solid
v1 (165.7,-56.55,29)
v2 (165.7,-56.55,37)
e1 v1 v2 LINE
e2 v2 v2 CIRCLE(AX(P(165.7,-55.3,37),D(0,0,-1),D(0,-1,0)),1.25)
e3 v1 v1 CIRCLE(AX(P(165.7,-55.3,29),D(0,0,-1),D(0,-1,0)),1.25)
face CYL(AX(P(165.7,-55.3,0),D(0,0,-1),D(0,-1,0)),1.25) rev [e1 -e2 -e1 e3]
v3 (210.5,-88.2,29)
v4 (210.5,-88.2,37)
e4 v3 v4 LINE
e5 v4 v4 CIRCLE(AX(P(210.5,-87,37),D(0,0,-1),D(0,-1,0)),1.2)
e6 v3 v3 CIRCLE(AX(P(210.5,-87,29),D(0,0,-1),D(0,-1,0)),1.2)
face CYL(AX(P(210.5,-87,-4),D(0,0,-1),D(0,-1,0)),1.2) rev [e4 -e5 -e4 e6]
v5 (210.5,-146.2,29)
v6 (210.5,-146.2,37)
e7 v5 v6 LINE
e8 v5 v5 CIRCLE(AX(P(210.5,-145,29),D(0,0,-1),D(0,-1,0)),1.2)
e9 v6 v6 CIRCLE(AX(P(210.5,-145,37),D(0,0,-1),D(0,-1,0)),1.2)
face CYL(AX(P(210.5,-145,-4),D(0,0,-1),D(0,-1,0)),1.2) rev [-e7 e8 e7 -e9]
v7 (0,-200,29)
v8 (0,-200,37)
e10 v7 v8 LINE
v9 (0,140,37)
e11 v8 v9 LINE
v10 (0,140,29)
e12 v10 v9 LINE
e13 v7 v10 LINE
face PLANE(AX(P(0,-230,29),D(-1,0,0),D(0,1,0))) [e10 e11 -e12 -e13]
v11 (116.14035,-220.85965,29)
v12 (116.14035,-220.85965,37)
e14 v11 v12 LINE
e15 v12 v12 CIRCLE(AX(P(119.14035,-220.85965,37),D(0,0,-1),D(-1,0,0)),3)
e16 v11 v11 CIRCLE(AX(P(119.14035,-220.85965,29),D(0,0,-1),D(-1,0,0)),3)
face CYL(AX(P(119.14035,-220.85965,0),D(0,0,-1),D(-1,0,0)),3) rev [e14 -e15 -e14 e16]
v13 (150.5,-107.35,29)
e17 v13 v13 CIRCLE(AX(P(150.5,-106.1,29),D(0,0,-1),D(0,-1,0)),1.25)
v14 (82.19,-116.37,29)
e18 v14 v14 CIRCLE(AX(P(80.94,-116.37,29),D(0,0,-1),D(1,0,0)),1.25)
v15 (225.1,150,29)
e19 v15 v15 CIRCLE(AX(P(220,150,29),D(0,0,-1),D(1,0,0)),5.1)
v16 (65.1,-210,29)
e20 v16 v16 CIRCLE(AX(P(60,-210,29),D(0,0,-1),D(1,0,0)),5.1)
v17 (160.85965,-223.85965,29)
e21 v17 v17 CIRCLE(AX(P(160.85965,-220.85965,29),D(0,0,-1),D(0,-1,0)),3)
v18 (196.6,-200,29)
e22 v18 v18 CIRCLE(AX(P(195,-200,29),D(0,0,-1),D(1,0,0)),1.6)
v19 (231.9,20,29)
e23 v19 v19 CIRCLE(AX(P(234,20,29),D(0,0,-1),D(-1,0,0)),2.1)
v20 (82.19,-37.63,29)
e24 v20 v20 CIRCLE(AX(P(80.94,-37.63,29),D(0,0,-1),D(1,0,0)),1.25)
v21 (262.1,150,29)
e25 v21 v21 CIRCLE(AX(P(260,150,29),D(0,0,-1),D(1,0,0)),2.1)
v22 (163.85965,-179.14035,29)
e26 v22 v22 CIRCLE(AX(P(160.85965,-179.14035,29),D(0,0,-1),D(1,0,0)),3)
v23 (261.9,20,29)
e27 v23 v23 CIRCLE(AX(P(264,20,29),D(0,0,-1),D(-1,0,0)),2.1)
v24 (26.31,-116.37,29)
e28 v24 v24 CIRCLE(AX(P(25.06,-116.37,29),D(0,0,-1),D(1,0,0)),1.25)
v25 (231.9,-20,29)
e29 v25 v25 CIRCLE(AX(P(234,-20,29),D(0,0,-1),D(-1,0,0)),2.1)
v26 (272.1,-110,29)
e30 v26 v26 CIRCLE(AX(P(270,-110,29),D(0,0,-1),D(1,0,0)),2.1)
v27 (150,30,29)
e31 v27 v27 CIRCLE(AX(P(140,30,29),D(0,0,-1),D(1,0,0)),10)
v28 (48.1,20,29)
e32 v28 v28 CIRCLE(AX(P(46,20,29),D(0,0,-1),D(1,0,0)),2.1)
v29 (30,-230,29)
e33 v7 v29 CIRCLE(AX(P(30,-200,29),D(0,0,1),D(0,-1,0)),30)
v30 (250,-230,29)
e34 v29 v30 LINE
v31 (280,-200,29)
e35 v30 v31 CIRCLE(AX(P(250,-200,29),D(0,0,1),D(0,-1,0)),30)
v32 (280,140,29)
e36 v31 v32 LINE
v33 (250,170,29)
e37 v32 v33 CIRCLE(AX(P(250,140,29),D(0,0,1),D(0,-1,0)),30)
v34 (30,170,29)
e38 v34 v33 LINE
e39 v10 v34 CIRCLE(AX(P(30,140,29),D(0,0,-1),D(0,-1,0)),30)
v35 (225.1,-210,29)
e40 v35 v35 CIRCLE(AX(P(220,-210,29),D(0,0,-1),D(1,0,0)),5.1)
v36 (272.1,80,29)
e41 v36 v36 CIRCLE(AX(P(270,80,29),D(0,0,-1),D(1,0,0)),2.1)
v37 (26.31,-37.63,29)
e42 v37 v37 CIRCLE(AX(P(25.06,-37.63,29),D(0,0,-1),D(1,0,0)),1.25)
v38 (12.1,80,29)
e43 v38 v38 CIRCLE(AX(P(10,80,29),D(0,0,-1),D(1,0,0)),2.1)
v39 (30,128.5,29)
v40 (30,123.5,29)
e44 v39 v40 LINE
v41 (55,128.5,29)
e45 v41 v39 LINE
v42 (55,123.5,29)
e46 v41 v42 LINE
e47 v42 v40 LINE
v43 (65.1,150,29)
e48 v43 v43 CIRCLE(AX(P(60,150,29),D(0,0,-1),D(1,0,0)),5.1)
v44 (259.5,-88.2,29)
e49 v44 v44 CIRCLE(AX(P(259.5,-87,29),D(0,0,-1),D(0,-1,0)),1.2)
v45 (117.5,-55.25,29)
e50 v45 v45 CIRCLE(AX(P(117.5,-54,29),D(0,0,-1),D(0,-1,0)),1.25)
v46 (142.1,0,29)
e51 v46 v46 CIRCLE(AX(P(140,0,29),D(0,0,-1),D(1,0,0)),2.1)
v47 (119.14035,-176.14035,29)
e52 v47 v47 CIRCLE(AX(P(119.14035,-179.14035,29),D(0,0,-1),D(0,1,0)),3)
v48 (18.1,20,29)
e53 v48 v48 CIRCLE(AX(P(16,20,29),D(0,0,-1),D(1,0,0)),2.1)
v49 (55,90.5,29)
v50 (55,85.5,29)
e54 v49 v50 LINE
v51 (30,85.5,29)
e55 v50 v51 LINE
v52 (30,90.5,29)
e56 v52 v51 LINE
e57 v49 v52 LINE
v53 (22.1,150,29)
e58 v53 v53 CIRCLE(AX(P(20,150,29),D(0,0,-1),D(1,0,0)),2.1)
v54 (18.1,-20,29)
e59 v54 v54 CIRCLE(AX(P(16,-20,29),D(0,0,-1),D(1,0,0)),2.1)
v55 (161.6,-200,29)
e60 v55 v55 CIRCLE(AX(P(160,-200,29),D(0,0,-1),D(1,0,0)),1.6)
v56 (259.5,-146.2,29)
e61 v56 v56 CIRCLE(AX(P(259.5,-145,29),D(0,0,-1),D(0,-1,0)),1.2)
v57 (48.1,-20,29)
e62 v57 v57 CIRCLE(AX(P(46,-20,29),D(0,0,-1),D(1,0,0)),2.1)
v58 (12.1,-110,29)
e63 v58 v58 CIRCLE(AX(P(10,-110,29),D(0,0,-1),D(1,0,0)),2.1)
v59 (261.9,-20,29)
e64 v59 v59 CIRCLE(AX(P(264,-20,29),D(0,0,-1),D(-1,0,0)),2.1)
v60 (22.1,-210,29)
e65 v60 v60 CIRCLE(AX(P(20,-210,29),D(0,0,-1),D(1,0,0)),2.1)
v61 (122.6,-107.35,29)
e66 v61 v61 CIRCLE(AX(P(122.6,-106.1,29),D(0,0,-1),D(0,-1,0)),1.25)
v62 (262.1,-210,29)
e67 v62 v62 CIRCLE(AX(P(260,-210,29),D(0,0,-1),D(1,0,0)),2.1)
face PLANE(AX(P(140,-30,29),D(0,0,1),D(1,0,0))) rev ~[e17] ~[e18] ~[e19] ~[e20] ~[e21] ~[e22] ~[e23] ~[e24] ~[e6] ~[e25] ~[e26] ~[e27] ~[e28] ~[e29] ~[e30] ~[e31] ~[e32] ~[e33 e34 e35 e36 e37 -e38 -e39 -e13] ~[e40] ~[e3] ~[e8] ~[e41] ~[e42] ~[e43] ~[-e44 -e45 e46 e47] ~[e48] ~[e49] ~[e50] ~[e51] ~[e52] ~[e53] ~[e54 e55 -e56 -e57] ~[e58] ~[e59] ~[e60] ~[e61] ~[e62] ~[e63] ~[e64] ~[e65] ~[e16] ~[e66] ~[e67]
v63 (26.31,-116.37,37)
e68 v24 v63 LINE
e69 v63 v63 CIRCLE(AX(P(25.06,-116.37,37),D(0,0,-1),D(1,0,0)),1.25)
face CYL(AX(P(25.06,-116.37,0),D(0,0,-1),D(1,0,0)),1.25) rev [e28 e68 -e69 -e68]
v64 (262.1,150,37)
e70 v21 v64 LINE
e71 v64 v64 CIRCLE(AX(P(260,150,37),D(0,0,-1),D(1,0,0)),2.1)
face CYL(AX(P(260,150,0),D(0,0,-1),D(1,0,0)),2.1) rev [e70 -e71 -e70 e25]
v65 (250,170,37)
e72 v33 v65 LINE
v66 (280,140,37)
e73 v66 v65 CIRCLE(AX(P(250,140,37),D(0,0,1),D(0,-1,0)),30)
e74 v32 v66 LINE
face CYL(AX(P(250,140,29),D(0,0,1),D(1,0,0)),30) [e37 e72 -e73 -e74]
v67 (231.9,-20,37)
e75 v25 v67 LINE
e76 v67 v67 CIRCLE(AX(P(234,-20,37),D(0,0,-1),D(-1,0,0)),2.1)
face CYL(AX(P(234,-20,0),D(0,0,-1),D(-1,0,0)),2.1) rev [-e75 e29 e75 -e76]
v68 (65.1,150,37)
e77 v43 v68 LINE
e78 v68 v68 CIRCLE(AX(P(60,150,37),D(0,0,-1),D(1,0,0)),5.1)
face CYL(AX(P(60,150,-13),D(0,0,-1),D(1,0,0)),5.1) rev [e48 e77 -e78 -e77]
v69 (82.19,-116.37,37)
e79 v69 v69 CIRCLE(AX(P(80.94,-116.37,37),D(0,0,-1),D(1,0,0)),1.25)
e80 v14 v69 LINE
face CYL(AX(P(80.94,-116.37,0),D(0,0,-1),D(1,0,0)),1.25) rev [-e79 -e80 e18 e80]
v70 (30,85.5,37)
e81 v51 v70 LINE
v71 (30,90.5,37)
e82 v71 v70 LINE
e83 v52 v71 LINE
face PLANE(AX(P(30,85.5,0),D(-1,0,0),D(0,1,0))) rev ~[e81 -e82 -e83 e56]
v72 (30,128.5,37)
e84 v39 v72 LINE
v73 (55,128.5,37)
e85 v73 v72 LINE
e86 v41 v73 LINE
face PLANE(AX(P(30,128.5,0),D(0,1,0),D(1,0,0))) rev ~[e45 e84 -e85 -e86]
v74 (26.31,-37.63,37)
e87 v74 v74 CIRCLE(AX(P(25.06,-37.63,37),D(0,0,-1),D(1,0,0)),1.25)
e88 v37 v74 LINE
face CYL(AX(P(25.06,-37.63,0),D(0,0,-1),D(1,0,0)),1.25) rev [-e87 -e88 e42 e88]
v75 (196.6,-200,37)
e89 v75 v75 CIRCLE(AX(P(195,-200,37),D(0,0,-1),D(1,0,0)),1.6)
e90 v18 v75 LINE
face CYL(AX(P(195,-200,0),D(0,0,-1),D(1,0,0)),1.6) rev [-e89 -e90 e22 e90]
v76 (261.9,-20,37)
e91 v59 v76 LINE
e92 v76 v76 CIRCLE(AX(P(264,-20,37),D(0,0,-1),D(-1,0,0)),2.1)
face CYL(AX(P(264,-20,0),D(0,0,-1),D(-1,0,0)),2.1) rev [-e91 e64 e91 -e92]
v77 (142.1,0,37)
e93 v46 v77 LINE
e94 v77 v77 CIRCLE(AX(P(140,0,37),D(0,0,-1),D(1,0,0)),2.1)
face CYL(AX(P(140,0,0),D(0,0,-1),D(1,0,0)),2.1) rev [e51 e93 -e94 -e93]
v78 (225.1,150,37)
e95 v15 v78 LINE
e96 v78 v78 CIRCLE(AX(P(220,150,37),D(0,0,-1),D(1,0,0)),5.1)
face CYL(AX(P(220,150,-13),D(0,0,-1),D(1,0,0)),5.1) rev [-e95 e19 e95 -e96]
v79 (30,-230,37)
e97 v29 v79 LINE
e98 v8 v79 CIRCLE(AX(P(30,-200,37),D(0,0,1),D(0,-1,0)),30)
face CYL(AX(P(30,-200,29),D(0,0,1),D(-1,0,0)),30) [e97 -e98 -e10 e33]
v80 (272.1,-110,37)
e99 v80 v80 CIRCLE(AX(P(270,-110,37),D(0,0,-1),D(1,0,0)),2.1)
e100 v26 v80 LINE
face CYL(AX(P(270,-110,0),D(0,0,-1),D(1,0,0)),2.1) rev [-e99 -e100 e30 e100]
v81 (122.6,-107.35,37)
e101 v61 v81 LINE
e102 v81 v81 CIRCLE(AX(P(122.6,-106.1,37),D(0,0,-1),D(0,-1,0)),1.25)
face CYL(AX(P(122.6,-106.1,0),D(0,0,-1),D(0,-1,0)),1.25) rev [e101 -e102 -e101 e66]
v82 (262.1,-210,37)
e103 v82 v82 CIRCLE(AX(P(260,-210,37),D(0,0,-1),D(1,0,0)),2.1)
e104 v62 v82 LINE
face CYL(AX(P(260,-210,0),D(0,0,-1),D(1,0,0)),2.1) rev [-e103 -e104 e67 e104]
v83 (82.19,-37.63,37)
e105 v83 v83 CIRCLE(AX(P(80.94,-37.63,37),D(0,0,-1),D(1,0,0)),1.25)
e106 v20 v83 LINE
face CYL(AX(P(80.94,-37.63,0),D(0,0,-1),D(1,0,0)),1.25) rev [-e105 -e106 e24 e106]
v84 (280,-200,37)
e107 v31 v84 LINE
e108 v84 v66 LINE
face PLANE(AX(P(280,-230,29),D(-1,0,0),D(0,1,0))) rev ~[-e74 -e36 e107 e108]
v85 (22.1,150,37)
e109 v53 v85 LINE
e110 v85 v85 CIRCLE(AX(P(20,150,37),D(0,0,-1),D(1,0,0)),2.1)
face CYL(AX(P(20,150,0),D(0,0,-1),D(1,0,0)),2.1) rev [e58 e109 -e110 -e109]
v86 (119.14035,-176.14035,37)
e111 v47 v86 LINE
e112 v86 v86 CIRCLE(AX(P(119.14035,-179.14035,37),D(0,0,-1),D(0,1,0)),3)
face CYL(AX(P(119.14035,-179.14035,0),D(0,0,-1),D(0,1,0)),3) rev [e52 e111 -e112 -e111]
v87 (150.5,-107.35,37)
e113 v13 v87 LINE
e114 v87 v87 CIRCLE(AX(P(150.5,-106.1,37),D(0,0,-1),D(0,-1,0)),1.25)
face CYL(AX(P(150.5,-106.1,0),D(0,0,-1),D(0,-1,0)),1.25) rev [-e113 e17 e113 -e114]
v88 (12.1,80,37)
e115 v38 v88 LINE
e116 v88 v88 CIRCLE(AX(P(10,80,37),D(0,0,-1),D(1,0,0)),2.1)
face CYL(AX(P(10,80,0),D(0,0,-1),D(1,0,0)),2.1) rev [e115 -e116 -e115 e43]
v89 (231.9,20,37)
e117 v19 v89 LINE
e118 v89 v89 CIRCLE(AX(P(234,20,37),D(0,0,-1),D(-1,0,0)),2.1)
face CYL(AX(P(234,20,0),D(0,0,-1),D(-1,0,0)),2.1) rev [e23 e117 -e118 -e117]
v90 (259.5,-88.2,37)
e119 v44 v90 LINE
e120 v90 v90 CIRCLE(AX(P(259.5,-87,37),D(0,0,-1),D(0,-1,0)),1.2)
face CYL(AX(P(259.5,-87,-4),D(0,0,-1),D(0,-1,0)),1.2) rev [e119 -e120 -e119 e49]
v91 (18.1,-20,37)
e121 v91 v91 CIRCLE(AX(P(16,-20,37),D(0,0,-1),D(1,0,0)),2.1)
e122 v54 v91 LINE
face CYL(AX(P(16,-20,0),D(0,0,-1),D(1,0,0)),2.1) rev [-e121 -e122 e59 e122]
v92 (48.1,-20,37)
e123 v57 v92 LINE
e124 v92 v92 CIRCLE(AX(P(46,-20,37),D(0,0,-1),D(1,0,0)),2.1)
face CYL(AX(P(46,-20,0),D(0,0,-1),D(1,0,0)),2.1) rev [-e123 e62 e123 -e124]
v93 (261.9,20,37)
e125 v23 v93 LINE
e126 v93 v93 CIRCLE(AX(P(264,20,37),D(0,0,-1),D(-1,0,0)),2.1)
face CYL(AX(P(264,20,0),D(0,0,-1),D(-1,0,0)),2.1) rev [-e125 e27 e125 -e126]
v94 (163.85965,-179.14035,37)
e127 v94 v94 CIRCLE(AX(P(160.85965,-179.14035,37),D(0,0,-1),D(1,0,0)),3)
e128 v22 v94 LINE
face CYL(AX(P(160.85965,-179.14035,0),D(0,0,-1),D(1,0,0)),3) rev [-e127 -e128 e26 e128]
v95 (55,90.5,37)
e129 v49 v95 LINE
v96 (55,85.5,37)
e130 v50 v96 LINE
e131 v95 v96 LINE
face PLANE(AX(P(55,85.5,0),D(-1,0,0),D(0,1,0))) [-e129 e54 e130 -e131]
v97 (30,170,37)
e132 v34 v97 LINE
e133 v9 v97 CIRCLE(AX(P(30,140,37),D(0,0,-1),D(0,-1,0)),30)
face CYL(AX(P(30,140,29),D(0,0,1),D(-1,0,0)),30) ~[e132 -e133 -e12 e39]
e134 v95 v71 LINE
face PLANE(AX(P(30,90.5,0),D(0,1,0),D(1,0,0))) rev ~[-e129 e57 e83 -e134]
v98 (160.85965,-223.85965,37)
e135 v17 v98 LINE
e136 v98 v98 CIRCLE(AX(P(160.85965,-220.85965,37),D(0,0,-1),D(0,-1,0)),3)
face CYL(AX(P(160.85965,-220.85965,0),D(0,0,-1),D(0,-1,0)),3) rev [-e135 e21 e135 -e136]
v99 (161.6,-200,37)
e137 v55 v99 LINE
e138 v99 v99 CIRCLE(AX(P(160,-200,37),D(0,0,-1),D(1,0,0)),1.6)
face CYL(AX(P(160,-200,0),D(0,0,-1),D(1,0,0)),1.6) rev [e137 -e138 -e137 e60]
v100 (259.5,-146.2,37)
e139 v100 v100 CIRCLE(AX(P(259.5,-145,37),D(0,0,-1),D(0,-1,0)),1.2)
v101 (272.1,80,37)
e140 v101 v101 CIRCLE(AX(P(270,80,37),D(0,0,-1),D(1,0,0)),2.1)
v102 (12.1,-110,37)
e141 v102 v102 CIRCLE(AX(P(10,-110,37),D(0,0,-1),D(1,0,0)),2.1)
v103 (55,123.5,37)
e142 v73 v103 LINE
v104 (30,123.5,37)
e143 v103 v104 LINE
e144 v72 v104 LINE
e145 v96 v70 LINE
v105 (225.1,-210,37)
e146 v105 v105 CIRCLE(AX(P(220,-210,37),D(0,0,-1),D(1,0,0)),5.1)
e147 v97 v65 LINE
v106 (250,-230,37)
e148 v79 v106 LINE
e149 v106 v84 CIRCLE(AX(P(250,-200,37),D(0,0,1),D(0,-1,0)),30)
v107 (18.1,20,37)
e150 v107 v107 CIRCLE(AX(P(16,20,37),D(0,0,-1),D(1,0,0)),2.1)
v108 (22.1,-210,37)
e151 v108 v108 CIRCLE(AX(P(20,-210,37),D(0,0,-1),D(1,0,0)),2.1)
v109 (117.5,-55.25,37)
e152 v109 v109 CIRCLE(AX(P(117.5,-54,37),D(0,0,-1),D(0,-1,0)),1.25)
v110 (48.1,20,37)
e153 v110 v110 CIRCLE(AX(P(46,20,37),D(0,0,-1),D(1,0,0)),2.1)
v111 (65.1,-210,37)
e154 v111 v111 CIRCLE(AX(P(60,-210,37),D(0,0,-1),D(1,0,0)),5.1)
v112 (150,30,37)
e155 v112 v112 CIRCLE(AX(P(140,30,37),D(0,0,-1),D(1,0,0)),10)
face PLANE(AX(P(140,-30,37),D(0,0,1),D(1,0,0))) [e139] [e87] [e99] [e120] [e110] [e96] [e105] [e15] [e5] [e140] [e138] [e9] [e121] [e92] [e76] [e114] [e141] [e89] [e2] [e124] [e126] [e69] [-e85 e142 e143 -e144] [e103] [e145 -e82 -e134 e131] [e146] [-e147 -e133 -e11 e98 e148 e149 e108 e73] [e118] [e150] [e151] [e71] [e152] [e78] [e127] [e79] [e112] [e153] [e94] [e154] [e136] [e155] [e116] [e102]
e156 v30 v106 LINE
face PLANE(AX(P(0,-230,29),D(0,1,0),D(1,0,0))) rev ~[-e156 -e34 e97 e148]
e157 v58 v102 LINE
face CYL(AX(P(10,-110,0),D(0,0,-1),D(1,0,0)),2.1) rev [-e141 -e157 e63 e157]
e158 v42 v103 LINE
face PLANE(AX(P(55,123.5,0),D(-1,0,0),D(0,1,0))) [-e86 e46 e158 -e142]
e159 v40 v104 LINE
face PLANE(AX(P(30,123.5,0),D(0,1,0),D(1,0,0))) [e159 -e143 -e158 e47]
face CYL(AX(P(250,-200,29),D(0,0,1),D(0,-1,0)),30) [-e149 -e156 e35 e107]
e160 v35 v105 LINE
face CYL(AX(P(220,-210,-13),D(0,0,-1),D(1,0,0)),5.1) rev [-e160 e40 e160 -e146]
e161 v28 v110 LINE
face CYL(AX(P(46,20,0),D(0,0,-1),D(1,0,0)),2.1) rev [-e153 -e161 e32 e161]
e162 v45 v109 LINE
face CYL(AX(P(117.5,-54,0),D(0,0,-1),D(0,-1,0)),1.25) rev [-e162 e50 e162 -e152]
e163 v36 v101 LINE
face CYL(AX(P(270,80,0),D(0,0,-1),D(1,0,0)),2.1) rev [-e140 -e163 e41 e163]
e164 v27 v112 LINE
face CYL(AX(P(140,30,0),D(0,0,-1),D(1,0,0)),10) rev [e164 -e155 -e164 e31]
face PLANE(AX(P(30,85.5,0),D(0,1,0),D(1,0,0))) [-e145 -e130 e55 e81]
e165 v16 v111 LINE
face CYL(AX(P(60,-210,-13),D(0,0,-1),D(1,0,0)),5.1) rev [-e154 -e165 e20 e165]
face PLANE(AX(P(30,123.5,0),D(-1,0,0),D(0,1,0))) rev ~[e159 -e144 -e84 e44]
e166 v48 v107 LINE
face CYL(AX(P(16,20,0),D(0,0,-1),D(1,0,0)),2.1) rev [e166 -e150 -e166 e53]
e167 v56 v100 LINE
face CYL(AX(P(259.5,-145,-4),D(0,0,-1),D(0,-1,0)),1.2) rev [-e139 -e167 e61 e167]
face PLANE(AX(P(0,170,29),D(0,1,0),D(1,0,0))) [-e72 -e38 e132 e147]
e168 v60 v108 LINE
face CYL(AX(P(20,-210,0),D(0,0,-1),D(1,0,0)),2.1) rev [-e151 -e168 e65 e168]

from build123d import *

# Parameters (mm, degrees)
CYLINDER006_R            = 2.1
CYLINDER006_DEPTH        = 60
ARRAY004_X_COUNT         = 2
ARRAY004_X_PITCH         = 30
ARRAY004_Y_COUNT         = 2
ARRAY004_Y_PITCH         = 40
ARRAY005_COUNT           = 2
CYLINDER003_R            = 5.1
CYLINDER003_DEPTH        = 70
ARRAY002_X_COUNT         = 2
ARRAY002_X_PITCH         = 160
SKETCH001_R              = 1.25
PAD001_DEPTH             = 50
CLONE_PLACEMENT_ANGLE    = -90
CYLINDER008_R            = 1.25
CYLINDER008_DEPTH        = 60
ARRAY007_X_COUNT         = 2
ARRAY007_X_PITCH         = 55.88
ARRAY007_Y_COUNT         = 2
ARRAY007_Y_PITCH         = 78.74
SKETCH002_R              = 1.2
PAD003_DEPTH             = 50
CLONE001_PLACEMENT_ANGLE = -90
BOX013_W                 = 25
BOX013_H                 = 5
BOX013_DEPTH             = 50
ARRAY035_Y_COUNT         = 2
ARRAY035_Y_PITCH         = 38
CYLINDER034_R            = 5.1
CYLINDER034_DEPTH        = 70
ARRAY033_X_COUNT         = 2
ARRAY033_X_PITCH         = 160
CYLINDER035_R            = 2.1
CYLINDER035_DEPTH        = 120
ARRAY036_X_COUNT         = 2
ARRAY036_X_PITCH         = 240
ARRAY036_Y_COUNT         = 2
ARRAY036_Y_PITCH         = 360
CYLINDER036_R            = 2.1
CYLINDER036_DEPTH        = 110
ARRAY037_X_COUNT         = 2
ARRAY037_X_PITCH         = 260
ARRAY037_Y_COUNT         = 2
ARRAY037_Y_PITCH         = 190
CYLINDER037_R            = 2.1
CYLINDER037_DEPTH        = 120
CYLINDER005_R            = 3
CYLINDER005_DEPTH        = 50
ARRAY003_COUNT           = 4
CYLINDER039_R            = 1.6
CYLINDER039_DEPTH        = 50
ARRAY038_X_COUNT         = 2
ARRAY038_X_PITCH         = 35
CYLINDER007_R            = 10
CYLINDER007_DEPTH        = 50
BOX002_W                 = 280
BOX002_H                 = 400
BOX002_DEPTH             = 8
FILLET_R                 = 30


with BuildPart() as roues_mount:
    # Cylinder006 → Cylinder006 (new body)
    with BuildSketch(Plane(origin=(16, -20, 0), x_dir=(1, 0, 0), z_dir=(0, 0, 1))):
        Circle(CYLINDER006_R)
    extrude(amount=CYLINDER006_DEPTH)

    # Array004 X: roues_mount_ ×2


with BuildPart() as roues_mount_1:
    add(roues_mount.part)
    with Locations(*[(i * ARRAY004_X_PITCH, 0, 0) for i in range(1, ARRAY004_X_COUNT)]):
        add(roues_mount.part)

    # Array004 Y: roues_mount_ ×2


with BuildPart() as roues_mount_2:
    add(roues_mount_1.part)
    with Locations(*[(0, i * ARRAY004_Y_PITCH, 0) for i in range(1, ARRAY004_Y_COUNT)]):
        add(roues_mount_1.part)

    # Array005: roues_mount_ ×2 about axis
    array005_axis = Axis((140, 0, 0), (0, 0, 1))


with BuildPart() as roues_mount_3:
    add(roues_mount_2.part)
    for i in range(1, ARRAY005_COUNT):
        add(roues_mount_2.part.rotate(array005_axis, i * 360 / ARRAY005_COUNT))


with BuildPart() as roue_fole_mount_front:
    # Cylinder003 → Cylinder003 (new body)
    with BuildSketch(Plane(origin=(60, -210, -13), x_dir=(1, 0, 0), z_dir=(0, 0, 1))):
        Circle(CYLINDER003_R)
    extrude(amount=CYLINDER003_DEPTH)

    # Array002 X: roue_fole_mount_front_ ×2


with BuildPart() as roue_fole_mount_front_1:
    add(roue_fole_mount_front.part)
    with Locations(*[(i * ARRAY002_X_PITCH, 0, 0) for i in range(1, ARRAY002_X_COUNT)]):
        add(roue_fole_mount_front.part)


with BuildPart() as clone_of_arduino_uno_holes:
    # Sketch001 → Pad001 (new body)
    with BuildSketch(Plane.XY):
        with Locations((14, 2.5)):
            Circle(SKETCH001_R)
        with Locations((15.3, 50.7)):
            Circle(SKETCH001_R)
        with Locations((66.1, 35.5)):
            Circle(SKETCH001_R)
        with Locations((66.1, 7.6)):
            Circle(SKETCH001_R)
    extrude(amount=PAD001_DEPTH)


with BuildPart() as clone_of_arduino_uno_holes_1:
    # Clone placement: moved
    add(clone_of_arduino_uno_holes.part.moved(Location((115, -40, 0))).rotate(Axis((115, -40, 0), (0, 0, 1)), CLONE_PLACEMENT_ANGLE))


with BuildPart() as array007:
    # Cylinder008 → Cylinder008 (new body)
    with BuildSketch(Plane(origin=(25.06, -37.63, 0), x_dir=(1, 0, 0), z_dir=(0, 0, 1))):
        Circle(CYLINDER008_R)
    extrude(amount=CYLINDER008_DEPTH)

    # Array007 X: Array007 ×2


with BuildPart() as array007_1:
    add(array007.part)
    with Locations(*[(i * ARRAY007_X_PITCH, 0, 0) for i in range(1, ARRAY007_X_COUNT)]):
        add(array007.part)

    # Array007 Y: Array007 ×2


with BuildPart() as array007_2:
    add(array007_1.part)
    with Locations(*[(0, -i * ARRAY007_Y_PITCH, 0) for i in range(1, ARRAY007_Y_COUNT)]):
        add(array007_1.part)


with BuildPart() as mount_electronics:
    # Sketch002 → Pad003 (new body)
    with BuildSketch(Plane.XY.offset(-4)):
        with Locations((-39, 24.5)):
            Circle(SKETCH002_R)
        with Locations((19, 24.5)):
            Circle(SKETCH002_R)
        with Locations((-39, -24.5)):
            Circle(SKETCH002_R)
        with Locations((19, -24.5)):
            Circle(SKETCH002_R)
    extrude(amount=PAD003_DEPTH)


with BuildPart() as mount_electronics_1:
    # Clone001 placement: moved
    add(mount_electronics.part.moved(Location((235, -126, 0))).rotate(Axis((235, -126, 0), (0, 0, 1)), CLONE001_PLACEMENT_ANGLE))

    # Fusion002: union Clone of arduino_uno_holes_, Array007
    add(clone_of_arduino_uno_holes_1.part)
    add(array007_2.part)


with BuildPart() as array035:
    # Box013 → Box013 (new body)
    with BuildSketch(Plane(origin=(30, 123.5, 0), x_dir=(1, 0, 0), z_dir=(0, 0, 1))):
        with Locations((12.5, 2.5)):
            Rectangle(BOX013_W, BOX013_H)
    extrude(amount=BOX013_DEPTH)

    # Array035 Y: Array035 ×2


with BuildPart() as array035_1:
    add(array035.part)
    with Locations(*[(0, -i * ARRAY035_Y_PITCH, 0) for i in range(1, ARRAY035_Y_COUNT)]):
        add(array035.part)


with BuildPart() as roue_fole_mount_back:
    # Cylinder034 → Cylinder034 (new body)
    with BuildSketch(Plane(origin=(60, 150, -13), x_dir=(1, 0, 0), z_dir=(0, 0, 1))):
        Circle(CYLINDER034_R)
    extrude(amount=CYLINDER034_DEPTH)

    # Array033 X: roue_fole_mount_back ×2


with BuildPart() as roue_fole_mount_back_1:
    add(roue_fole_mount_back.part)
    with Locations(*[(i * ARRAY033_X_PITCH, 0, 0) for i in range(1, ARRAY033_X_COUNT)]):
        add(roue_fole_mount_back.part)


with BuildPart() as array036:
    # Cylinder035 → Cylinder035 (new body)
    with BuildSketch(Plane(origin=(20, -210, 0), x_dir=(1, 0, 0), z_dir=(0, 0, 1))):
        Circle(CYLINDER035_R)
    extrude(amount=CYLINDER035_DEPTH)

    # Array036 X: Array036 ×2


with BuildPart() as array036_1:
    add(array036.part)
    with Locations(*[(i * ARRAY036_X_PITCH, 0, 0) for i in range(1, ARRAY036_X_COUNT)]):
        add(array036.part)

    # Array036 Y: Array036 ×2


with BuildPart() as array036_2:
    add(array036_1.part)
    with Locations(*[(0, i * ARRAY036_Y_PITCH, 0) for i in range(1, ARRAY036_Y_COUNT)]):
        add(array036_1.part)


with BuildPart() as array037:
    # Cylinder036 → Cylinder036 (new body)
    with BuildSketch(Plane(origin=(10, -110, 0), x_dir=(1, 0, 0), z_dir=(0, 0, 1))):
        Circle(CYLINDER036_R)
    extrude(amount=CYLINDER036_DEPTH)

    # Array037 X: Array037 ×2


with BuildPart() as array037_1:
    add(array037.part)
    with Locations(*[(i * ARRAY037_X_PITCH, 0, 0) for i in range(1, ARRAY037_X_COUNT)]):
        add(array037.part)

    # Array037 Y: Array037 ×2


with BuildPart() as array037_2:
    add(array037_1.part)
    with Locations(*[(0, i * ARRAY037_Y_PITCH, 0) for i in range(1, ARRAY037_Y_COUNT)]):
        add(array037_1.part)


with BuildPart() as central_entretoise_m4:
    # Cylinder037 → Cylinder037 (new body)
    with BuildSketch(Plane(origin=(140, 0, 0), x_dir=(1, 0, 0), z_dir=(0, 0, 1))):
        Circle(CYLINDER037_R)
    extrude(amount=CYLINDER037_DEPTH)


with BuildPart() as array003:
    # Cylinder005 → Cylinder005 (new body)
    with BuildSketch(Plane(origin=(160.85965, -179.14035, 0), x_dir=(1, 0, 0), z_dir=(0, 0, 1))):
        Circle(CYLINDER005_R)
    extrude(amount=CYLINDER005_DEPTH)

    # Array003: Array003 ×4 about axis
    array003_axis = Axis((140, -200, 0), (0, 0, 1))


with BuildPart() as array003_1:
    add(array003.part)
    for i in range(1, ARRAY003_COUNT):
        add(array003.part.rotate(array003_axis, i * 360 / ARRAY003_COUNT))


with BuildPart() as mount_cam_pi:
    # Cylinder039 → Cylinder039 (new body)
    with BuildSketch(Plane(origin=(160, -200, 0), x_dir=(1, 0, 0), z_dir=(0, 0, 1))):
        Circle(CYLINDER039_R)
    extrude(amount=CYLINDER039_DEPTH)

    # Array038 X: mount_cam_pi_ ×2


with BuildPart() as mount_cam_pi_1:
    add(mount_cam_pi.part)
    with Locations(*[(i * ARRAY038_X_PITCH, 0, 0) for i in range(1, ARRAY038_X_COUNT)]):
        add(mount_cam_pi.part)


with BuildPart() as fusion001:
    # Cylinder007 → Cylinder007 (new body)
    with BuildSketch(Plane(origin=(140, 30, 0), x_dir=(1, 0, 0), z_dir=(0, 0, 1))):
        Circle(CYLINDER007_R)
    extrude(amount=CYLINDER007_DEPTH)

    # Fusion001: union roues_mount_, roue_fole_mount_front_, mount_electronics_, Array035, roue_fole_mount_back, Array036, Array037, central_entretoise_m4_, Array003, mount_cam_pi_
    add(roues_mount_3.part)
    add(roue_fole_mount_front_1.part)
    add(mount_electronics_1.part)
    add(array035_1.part)
    add(roue_fole_mount_back_1.part)
    add(array036_2.part)
    add(array037_2.part)
    add(central_entretoise_m4.part)
    add(array003_1.part)
    add(mount_cam_pi_1.part)


with BuildPart() as cut:
    # Box002 → Box002 (new body)
    with BuildSketch(Plane(origin=(0, -230, 29), x_dir=(1, 0, 0), z_dir=(0, 0, 1))):
        with Locations((140, 200)):
            Rectangle(BOX002_W, BOX002_H)
    extrude(amount=BOX002_DEPTH)

    # Fillet
    fillet_edges = [cut.edges().sort_by_distance(p)[0] for p in [
        (0, -230, 33),
        (0, 170, 33),
        (280, -230, 33),
        (280, 170, 33),
    ]]
    fillet(fillet_edges, radius=FILLET_R)

    # Cut: cut Fusion001
    add(fusion001.part, mode=Mode.SUBTRACT)


solid = cut.part
